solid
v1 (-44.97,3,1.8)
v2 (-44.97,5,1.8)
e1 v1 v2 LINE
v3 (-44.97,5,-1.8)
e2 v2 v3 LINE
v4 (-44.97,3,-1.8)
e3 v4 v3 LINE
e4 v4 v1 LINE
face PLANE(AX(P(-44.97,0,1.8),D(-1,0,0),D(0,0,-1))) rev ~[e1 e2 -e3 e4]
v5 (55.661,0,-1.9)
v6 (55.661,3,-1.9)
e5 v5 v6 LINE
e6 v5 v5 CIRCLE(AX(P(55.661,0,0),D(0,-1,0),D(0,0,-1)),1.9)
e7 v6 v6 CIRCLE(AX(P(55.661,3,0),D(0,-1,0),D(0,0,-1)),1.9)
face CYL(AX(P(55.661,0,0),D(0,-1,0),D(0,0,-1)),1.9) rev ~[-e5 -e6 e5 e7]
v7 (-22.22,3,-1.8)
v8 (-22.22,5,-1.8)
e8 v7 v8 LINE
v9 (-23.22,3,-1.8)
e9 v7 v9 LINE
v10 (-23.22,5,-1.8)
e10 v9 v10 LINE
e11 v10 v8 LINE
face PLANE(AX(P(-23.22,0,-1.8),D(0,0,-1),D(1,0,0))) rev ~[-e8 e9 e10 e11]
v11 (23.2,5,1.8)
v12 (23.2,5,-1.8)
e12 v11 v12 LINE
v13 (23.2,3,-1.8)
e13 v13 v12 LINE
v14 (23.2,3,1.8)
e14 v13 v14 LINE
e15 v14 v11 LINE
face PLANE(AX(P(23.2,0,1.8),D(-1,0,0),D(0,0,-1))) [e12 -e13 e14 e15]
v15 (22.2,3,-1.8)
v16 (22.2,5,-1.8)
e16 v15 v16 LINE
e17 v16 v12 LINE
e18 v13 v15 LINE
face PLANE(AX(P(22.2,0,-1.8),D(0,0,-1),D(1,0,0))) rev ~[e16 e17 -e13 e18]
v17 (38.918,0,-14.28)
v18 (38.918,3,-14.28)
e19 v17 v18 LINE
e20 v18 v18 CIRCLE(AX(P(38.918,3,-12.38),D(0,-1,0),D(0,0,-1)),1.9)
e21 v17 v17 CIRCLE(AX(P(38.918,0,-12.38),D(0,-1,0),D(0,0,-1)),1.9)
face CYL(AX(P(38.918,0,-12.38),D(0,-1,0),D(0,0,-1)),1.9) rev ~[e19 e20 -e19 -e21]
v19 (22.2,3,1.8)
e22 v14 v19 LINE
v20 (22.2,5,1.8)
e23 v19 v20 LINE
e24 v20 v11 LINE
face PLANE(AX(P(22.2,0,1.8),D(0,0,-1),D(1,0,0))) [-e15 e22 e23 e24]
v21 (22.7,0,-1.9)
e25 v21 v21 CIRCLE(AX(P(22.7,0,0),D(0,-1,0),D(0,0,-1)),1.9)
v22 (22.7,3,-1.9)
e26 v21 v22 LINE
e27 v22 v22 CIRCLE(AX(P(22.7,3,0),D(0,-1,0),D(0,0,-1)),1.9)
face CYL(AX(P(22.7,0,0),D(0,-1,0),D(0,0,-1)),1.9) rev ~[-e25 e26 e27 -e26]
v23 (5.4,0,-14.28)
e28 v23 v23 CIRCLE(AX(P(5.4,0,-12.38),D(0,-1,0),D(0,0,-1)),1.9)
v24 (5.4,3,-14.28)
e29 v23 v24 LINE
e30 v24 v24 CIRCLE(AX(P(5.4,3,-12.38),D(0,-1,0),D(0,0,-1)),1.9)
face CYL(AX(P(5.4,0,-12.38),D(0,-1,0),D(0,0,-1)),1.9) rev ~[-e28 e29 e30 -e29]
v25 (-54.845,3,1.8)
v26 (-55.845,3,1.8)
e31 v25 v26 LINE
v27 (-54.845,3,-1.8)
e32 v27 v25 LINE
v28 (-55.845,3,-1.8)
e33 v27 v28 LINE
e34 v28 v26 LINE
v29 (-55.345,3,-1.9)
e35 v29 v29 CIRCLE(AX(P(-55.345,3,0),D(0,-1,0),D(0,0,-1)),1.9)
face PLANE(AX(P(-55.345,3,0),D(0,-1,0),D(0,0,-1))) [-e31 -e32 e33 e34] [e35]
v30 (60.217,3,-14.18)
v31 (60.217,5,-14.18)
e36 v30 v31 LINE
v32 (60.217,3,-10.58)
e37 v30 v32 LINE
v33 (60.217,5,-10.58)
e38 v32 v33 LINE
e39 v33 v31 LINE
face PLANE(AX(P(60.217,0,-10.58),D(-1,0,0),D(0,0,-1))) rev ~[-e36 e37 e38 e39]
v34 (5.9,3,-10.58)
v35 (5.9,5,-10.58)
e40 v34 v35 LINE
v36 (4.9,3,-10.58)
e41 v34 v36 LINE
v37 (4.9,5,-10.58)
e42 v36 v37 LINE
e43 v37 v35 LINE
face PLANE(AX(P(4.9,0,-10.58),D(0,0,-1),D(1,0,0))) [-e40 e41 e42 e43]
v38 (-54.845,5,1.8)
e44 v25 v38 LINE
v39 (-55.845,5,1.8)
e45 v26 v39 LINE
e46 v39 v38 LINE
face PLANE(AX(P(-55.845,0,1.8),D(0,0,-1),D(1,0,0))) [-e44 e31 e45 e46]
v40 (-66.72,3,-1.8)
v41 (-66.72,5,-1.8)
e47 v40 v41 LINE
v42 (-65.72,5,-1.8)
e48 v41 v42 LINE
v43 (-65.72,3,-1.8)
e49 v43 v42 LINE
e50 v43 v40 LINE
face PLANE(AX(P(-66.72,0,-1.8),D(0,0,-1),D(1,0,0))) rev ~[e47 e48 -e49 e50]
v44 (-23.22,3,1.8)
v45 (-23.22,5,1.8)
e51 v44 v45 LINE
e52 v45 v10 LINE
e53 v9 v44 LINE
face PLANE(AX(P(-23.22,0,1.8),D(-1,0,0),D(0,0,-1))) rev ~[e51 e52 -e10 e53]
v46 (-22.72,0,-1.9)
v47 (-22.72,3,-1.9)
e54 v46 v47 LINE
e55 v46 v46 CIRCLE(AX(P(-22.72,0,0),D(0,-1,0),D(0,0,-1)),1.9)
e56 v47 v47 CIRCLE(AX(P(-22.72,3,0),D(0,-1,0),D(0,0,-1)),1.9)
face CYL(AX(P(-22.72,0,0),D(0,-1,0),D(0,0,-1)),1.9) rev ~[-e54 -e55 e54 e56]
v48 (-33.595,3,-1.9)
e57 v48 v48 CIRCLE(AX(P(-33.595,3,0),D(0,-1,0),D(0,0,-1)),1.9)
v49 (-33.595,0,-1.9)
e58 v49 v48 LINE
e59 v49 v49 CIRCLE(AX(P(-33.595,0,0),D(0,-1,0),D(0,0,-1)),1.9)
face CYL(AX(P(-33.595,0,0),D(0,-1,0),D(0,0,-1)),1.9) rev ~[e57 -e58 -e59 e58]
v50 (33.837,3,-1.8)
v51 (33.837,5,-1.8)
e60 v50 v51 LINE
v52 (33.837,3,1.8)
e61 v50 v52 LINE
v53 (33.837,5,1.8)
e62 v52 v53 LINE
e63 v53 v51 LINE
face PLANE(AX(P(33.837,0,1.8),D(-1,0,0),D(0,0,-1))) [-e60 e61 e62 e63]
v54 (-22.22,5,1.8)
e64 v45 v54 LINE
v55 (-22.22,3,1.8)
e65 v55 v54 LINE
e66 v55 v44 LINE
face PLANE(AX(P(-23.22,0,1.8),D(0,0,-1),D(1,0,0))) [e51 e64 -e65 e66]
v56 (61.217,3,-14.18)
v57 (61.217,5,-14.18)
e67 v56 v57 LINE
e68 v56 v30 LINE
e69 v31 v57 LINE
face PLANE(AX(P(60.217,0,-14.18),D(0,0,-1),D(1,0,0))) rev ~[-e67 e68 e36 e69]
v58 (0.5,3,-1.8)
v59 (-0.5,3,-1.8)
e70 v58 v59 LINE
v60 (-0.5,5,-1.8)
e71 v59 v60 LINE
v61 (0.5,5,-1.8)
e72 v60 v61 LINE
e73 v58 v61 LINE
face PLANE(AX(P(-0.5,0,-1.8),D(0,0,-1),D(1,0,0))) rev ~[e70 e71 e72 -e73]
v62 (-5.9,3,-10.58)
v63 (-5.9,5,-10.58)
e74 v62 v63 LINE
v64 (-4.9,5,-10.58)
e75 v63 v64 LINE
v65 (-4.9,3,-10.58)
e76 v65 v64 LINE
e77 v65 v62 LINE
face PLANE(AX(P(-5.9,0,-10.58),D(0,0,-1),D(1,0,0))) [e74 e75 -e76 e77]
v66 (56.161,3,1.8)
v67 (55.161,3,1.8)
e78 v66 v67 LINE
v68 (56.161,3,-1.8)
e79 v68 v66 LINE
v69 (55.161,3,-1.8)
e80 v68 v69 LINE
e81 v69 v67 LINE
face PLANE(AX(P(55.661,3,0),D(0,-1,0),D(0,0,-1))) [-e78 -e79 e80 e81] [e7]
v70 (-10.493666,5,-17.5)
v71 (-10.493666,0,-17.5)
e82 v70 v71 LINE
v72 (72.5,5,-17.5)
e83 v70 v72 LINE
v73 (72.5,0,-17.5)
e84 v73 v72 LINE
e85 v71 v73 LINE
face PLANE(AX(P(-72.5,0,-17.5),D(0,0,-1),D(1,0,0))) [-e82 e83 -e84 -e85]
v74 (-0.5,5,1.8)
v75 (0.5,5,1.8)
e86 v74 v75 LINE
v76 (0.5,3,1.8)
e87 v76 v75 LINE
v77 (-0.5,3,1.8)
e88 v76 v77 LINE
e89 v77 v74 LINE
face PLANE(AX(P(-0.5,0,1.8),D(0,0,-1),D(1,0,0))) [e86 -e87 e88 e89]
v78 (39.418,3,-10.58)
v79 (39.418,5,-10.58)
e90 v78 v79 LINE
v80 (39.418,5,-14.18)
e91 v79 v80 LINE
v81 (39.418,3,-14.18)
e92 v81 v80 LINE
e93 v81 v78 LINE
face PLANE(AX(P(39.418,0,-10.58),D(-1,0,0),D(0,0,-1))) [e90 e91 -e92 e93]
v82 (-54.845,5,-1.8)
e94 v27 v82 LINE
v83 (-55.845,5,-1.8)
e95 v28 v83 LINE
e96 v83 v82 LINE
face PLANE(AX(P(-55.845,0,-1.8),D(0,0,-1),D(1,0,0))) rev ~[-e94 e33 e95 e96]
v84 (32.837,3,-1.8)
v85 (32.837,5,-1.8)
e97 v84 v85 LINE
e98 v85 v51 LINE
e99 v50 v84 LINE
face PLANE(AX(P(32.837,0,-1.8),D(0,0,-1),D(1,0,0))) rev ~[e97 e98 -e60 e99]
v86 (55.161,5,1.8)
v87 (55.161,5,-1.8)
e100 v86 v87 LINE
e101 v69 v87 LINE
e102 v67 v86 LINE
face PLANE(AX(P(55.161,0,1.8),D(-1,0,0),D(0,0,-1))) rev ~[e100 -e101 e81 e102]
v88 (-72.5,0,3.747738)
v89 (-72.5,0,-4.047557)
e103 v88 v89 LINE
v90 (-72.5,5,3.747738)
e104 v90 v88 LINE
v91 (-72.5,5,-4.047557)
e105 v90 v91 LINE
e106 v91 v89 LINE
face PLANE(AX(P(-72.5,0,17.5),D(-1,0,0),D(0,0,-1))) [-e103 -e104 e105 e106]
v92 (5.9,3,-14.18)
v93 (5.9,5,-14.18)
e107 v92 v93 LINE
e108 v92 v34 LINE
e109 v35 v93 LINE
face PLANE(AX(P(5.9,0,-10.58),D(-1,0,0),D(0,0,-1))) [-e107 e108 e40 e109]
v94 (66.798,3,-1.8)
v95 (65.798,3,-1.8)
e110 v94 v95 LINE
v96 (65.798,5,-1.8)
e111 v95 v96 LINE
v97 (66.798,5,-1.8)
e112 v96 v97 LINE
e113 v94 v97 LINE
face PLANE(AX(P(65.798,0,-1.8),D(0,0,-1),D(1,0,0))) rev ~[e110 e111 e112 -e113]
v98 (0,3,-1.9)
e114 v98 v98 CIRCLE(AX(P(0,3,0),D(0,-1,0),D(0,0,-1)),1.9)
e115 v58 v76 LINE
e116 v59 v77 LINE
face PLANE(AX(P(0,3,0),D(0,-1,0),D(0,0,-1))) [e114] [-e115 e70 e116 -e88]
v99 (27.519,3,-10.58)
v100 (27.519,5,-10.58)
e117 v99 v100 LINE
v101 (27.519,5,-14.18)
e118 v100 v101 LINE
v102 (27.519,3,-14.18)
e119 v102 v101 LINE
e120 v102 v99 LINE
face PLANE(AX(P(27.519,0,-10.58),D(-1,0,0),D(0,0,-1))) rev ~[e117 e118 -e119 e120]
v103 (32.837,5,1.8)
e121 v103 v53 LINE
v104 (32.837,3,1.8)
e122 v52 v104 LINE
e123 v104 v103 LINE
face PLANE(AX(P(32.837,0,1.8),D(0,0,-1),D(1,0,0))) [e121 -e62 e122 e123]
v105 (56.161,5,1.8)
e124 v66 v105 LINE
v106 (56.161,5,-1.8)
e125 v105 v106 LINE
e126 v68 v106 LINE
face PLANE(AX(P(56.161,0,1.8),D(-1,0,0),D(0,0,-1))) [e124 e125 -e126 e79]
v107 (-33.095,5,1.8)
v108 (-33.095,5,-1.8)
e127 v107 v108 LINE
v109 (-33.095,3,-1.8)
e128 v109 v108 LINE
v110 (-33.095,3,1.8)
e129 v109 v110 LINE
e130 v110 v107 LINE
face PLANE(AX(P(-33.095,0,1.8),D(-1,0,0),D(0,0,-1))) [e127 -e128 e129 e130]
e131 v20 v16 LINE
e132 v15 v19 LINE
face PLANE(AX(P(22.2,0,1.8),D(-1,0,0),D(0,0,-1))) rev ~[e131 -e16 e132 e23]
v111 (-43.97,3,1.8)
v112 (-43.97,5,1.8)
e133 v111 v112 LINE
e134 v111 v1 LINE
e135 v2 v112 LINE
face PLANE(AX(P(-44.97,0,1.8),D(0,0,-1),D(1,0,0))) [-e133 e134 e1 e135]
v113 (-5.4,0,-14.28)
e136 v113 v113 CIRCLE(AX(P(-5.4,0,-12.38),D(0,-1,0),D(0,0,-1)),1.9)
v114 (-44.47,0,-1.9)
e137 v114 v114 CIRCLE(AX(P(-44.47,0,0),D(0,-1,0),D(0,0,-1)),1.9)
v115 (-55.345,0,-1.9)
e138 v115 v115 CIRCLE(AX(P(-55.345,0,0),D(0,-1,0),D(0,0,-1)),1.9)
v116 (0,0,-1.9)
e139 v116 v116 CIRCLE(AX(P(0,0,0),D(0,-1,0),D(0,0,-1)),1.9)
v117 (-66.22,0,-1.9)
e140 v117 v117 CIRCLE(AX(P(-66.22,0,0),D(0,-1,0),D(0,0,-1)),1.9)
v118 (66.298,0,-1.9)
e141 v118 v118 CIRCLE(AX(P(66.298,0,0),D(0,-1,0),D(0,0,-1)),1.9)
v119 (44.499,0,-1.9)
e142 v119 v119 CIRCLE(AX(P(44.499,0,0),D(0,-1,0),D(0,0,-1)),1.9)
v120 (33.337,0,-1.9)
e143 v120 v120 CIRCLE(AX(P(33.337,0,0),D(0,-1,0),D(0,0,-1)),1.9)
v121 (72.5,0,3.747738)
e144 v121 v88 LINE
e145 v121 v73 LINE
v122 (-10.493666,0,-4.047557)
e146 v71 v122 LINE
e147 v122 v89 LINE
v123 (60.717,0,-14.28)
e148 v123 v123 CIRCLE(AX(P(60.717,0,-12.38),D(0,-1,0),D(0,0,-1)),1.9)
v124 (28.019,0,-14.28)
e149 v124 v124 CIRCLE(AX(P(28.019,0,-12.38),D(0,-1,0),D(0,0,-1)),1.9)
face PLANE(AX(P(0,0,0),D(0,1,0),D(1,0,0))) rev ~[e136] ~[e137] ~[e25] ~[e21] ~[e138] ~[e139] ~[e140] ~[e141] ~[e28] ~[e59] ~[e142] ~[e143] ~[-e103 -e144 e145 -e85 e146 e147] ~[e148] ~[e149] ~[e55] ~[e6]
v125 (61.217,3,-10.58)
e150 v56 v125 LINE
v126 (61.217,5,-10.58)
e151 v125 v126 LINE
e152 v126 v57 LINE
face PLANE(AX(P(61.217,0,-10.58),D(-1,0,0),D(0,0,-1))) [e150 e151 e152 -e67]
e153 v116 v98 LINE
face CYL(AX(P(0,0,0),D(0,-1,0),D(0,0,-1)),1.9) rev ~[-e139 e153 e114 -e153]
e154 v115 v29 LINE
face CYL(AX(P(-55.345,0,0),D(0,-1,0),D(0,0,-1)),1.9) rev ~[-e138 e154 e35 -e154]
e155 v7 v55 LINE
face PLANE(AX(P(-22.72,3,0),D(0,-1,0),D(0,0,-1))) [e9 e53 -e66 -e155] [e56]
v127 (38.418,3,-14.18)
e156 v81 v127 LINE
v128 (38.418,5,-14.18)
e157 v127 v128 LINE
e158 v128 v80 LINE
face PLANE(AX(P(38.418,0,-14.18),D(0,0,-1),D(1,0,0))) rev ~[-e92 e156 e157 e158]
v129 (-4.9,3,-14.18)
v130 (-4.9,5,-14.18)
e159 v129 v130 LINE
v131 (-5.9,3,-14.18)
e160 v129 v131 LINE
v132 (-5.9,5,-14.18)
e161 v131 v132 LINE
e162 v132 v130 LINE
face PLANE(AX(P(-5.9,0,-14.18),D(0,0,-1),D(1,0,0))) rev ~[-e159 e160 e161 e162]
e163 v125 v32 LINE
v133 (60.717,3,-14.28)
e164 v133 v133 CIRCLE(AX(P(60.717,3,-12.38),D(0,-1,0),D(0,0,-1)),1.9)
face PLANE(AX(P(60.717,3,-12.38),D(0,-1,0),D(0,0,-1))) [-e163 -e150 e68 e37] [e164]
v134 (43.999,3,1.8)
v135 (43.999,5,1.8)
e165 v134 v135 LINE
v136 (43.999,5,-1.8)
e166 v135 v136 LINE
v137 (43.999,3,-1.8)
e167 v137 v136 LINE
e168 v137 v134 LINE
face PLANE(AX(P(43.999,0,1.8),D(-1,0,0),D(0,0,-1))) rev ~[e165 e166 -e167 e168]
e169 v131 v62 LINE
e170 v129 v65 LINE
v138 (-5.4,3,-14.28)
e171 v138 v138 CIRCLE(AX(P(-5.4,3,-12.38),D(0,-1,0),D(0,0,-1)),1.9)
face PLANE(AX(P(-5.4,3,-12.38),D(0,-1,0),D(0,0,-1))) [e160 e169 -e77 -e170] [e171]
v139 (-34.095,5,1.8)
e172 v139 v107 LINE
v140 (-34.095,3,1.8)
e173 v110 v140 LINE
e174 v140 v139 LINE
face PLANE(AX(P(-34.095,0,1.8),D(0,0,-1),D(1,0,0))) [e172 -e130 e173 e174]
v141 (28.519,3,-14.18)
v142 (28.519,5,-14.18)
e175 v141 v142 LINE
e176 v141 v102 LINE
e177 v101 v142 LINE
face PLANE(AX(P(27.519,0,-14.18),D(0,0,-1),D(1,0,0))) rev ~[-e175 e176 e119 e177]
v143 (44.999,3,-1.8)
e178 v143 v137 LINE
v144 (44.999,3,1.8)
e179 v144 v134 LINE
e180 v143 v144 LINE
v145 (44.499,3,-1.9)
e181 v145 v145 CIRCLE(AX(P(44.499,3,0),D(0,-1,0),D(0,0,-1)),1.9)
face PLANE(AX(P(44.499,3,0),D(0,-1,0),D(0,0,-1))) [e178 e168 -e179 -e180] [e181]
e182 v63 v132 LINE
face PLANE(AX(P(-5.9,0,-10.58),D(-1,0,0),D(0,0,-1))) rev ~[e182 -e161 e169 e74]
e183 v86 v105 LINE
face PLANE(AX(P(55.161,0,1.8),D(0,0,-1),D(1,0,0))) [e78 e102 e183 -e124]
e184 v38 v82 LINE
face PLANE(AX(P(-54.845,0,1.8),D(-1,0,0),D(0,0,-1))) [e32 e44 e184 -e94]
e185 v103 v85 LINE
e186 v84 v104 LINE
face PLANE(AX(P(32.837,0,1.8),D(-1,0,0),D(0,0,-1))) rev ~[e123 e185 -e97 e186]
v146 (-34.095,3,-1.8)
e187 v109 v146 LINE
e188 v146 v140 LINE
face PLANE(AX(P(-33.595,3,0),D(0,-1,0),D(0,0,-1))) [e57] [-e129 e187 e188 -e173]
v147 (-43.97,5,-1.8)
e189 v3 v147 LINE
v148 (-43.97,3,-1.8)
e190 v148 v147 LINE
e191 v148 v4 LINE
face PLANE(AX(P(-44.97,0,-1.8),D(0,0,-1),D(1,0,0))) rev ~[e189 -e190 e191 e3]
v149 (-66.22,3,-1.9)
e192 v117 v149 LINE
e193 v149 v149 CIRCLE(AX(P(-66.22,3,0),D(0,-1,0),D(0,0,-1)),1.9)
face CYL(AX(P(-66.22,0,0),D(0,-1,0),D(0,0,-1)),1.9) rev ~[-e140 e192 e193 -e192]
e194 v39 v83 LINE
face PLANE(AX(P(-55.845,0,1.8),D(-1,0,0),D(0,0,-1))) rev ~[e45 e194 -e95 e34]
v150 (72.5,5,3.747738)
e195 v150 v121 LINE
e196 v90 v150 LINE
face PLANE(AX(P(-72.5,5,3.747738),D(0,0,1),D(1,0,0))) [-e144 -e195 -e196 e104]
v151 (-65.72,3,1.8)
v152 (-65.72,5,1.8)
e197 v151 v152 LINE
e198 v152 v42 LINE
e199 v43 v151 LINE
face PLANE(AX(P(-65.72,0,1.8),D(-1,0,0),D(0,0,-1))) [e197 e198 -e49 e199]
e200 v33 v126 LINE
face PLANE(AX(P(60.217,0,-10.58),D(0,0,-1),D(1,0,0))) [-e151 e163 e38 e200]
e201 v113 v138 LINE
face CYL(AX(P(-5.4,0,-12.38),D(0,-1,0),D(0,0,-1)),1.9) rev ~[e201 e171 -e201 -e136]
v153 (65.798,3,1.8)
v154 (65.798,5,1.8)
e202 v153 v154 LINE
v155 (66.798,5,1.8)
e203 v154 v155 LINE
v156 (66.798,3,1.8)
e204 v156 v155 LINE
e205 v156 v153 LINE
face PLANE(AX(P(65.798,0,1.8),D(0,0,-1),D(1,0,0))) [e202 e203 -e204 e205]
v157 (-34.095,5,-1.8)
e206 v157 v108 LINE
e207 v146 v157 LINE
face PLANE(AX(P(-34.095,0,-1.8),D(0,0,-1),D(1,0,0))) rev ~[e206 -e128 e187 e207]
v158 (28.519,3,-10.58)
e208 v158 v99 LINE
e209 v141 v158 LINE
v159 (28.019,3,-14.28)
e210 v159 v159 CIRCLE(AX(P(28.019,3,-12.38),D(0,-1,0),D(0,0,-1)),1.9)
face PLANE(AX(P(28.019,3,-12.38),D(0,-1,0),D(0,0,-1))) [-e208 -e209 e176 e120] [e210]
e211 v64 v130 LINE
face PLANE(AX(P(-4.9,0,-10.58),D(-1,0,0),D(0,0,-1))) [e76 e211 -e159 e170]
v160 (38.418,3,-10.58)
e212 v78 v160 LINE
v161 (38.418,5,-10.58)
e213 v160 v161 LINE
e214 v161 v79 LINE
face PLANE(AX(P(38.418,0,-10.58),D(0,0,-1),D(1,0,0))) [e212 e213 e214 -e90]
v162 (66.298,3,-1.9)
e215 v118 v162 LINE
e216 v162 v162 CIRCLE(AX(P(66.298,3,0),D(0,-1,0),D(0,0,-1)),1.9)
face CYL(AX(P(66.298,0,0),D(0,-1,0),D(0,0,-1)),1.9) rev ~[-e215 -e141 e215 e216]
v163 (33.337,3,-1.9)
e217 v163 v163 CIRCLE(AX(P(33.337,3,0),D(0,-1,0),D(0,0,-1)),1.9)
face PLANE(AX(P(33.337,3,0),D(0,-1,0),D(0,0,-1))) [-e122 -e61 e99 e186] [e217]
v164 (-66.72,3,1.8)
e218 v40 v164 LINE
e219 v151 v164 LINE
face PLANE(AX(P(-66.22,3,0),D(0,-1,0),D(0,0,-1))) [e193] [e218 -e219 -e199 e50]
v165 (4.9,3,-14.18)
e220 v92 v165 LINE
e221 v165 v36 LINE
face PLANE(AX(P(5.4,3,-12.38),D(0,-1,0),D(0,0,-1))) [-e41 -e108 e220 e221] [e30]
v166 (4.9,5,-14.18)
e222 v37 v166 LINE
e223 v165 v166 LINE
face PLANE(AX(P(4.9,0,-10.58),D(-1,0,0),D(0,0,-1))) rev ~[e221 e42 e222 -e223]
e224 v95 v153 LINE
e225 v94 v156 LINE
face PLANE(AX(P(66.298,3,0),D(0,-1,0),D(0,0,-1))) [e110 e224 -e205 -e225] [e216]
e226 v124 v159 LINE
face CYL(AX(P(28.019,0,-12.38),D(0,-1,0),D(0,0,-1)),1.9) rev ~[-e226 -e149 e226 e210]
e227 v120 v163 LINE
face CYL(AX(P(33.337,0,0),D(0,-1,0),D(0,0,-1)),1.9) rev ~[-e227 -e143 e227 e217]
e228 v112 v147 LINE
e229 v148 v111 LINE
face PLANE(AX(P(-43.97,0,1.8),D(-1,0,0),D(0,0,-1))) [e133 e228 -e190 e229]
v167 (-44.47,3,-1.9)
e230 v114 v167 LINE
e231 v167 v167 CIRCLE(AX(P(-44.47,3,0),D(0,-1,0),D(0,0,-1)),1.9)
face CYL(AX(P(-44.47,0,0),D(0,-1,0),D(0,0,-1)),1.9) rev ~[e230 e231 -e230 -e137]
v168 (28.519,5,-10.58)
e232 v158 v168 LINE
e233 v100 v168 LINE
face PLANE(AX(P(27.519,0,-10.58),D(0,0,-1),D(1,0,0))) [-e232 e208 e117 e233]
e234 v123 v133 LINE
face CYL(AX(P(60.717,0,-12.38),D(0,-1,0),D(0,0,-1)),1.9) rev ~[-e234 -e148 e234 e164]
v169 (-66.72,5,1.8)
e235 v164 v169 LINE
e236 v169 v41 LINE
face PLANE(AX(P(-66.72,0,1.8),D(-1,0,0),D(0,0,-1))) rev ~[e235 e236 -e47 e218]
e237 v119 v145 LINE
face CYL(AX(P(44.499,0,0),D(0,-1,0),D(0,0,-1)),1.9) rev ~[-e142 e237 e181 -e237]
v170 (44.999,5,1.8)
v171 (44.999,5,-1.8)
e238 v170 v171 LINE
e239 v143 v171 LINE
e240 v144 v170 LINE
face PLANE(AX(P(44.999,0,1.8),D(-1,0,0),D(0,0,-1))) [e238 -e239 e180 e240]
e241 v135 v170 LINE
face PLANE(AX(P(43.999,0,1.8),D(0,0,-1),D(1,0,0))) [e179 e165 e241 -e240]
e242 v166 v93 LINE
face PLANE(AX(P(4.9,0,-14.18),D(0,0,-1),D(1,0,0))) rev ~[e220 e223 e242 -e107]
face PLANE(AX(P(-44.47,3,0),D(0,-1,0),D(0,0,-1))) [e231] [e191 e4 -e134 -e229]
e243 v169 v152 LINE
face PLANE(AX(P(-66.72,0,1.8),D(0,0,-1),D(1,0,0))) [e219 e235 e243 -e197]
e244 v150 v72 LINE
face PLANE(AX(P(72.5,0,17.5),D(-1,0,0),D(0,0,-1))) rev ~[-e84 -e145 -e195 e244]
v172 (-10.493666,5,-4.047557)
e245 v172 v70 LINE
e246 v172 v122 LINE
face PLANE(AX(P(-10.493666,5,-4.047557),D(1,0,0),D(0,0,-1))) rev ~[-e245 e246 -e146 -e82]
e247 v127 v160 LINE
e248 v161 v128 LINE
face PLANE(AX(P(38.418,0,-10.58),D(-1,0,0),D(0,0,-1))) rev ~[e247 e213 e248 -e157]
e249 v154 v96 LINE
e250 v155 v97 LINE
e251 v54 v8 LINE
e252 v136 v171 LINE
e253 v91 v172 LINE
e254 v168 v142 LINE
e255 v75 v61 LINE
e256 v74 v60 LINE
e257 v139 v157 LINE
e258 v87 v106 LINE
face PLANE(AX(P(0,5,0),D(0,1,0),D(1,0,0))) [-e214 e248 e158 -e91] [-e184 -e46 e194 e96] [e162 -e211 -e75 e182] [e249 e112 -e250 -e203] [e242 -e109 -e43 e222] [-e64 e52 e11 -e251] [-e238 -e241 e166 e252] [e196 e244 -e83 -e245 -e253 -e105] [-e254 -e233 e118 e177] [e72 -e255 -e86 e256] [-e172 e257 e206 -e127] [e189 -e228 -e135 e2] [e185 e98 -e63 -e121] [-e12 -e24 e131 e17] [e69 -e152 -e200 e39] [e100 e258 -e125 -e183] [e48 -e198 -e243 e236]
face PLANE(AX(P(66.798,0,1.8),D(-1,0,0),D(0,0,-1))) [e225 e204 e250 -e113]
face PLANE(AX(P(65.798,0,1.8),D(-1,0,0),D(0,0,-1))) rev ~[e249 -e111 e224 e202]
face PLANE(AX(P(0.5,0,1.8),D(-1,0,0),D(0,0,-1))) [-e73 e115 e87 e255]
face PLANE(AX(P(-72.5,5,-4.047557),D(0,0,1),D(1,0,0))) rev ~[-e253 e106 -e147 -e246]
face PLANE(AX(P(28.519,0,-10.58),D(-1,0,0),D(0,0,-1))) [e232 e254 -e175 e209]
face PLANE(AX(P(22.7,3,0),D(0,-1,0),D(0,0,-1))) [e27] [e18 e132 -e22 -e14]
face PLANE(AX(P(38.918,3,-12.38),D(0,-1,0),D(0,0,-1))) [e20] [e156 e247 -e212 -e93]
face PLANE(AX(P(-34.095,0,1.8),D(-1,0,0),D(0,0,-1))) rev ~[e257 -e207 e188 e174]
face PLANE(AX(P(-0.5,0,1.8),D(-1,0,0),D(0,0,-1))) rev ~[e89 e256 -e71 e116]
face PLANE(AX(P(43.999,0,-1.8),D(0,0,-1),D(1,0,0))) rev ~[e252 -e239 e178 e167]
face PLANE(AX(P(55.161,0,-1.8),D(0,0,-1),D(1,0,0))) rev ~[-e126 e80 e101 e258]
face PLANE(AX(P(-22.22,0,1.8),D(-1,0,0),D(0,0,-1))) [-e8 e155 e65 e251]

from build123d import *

# Parameters (mm, degrees)
SKETCH1_W           = 145
SKETCH1_H           = 35
SKETCH1_W_2         = 1
SKETCH1_H_2         = 3.6
BOSS_EXTRUDE1_DEPTH = 5
CUT_EXTRUDE1_REACH  = 76.75
SKETCH2_W           = 145
SKETCH2_H           = 13.752262189
SKETCH2_W_2         = 62.00633413
SKETCH2_H_2         = 13.452443164
SKETCH4_R           = 1.9
CUT_EXTRUDE2_DEPTH  = 3


with BuildPart() as part:
    # Sketch1 → Boss-Extrude1 (new body)
    with BuildSketch(Plane(origin=(0, 0, 0), x_dir=(1, 0, 0), z_dir=(0, 1, 0))):
        Rectangle(SKETCH1_W, SKETCH1_H)
        Rectangle(SKETCH1_W_2, SKETCH1_H_2, mode=Mode.SUBTRACT)
        with Locations((-22.72, 0)):
            Rectangle(SKETCH1_W_2, SKETCH1_H_2, mode=Mode.SUBTRACT)
        with Locations((-33.595, 0)):
            Rectangle(SKETCH1_W_2, SKETCH1_H_2, mode=Mode.SUBTRACT)
        with Locations((-44.47, 0)):
            Rectangle(SKETCH1_W_2, SKETCH1_H_2, mode=Mode.SUBTRACT)
        with Locations((-55.345, 0)):
            Rectangle(SKETCH1_W_2, SKETCH1_H_2, mode=Mode.SUBTRACT)
        with Locations((-66.22, 0)):
            Rectangle(SKETCH1_W_2, SKETCH1_H_2, mode=Mode.SUBTRACT)
        with Locations((22.7, 0)):
            Rectangle(SKETCH1_W_2, SKETCH1_H_2, mode=Mode.SUBTRACT)
        with Locations((33.337, 0)):
            Rectangle(SKETCH1_W_2, SKETCH1_H_2, mode=Mode.SUBTRACT)
        with Locations((44.499, 0)):
            Rectangle(SKETCH1_W_2, SKETCH1_H_2, mode=Mode.SUBTRACT)
        with Locations((55.661, 0)):
            Rectangle(SKETCH1_W_2, SKETCH1_H_2, mode=Mode.SUBTRACT)
        with Locations((66.298, 0)):
            Rectangle(SKETCH1_W_2, SKETCH1_H_2, mode=Mode.SUBTRACT)
        with Locations((-5.4, 12.38)):
            Rectangle(SKETCH1_W_2, SKETCH1_H_2, mode=Mode.SUBTRACT)
        with Locations((5.4, 12.38)):
            Rectangle(SKETCH1_W_2, SKETCH1_H_2, mode=Mode.SUBTRACT)
        with Locations((28.019, 12.38)):
            Rectangle(SKETCH1_W_2, SKETCH1_H_2, mode=Mode.SUBTRACT)
        with Locations((38.918, 12.38)):
            Rectangle(SKETCH1_W_2, SKETCH1_H_2, mode=Mode.SUBTRACT)
        with Locations((60.717, 12.38)):
            Rectangle(SKETCH1_W_2, SKETCH1_H_2, mode=Mode.SUBTRACT)
    extrude(amount=BOSS_EXTRUDE1_DEPTH)

    # Sketch2 → Cut-Extrude1 (cut, up to next)
    with BuildSketch(Plane(origin=(0, 5, 0), x_dir=(1, 0, 0), z_dir=(0, 1, 0)), mode=Mode.PRIVATE) as cut_extrude1_sk1:
        with Locations((0, -10.623868906)):
            Rectangle(SKETCH2_W, SKETCH2_H)
    cut_extrude1_tool1 = extrude(cut_extrude1_sk1.sketch, amount=-CUT_EXTRUDE1_REACH, mode=Mode.PRIVATE) & part.part
    # Sketch2 → Cut-Extrude1 (cut, up to next)
    with BuildSketch(Plane(origin=(0, 5, 0), x_dir=(1, 0, 0), z_dir=(0, 1, 0)), mode=Mode.PRIVATE) as cut_extrude1_sk2:
        with Locations((-41.496832935, 10.773778418)):
            Rectangle(SKETCH2_W_2, SKETCH2_H_2)
    cut_extrude1_tool2 = extrude(cut_extrude1_sk2.sketch, amount=-CUT_EXTRUDE1_REACH, mode=Mode.PRIVATE) & part.part
    add(cut_extrude1_tool1.solids().sort_by_distance((0, 5, 10.623869))[0], mode=Mode.SUBTRACT)
    add(cut_extrude1_tool2.solids().sort_by_distance((-41.496833, 5, -10.773778))[0], mode=Mode.SUBTRACT)

    # Sketch4 → Cut-Extrude2 (cut)
    with BuildSketch(Plane.XZ):
        with Locations(Location((0, 0, 0), (0, 0, 270))):
            Circle(SKETCH4_R)
        with Locations(Location((-5.4, -12.38, 0), (0, 0, 270))):
            Circle(SKETCH4_R)
        with Locations(Location((-22.72, 0, 0), (0, 0, 270))):
            Circle(SKETCH4_R)
        with Locations(Location((-33.595, 0, 0), (0, 0, 270))):
            Circle(SKETCH4_R)
        with Locations(Location((-44.47, 0, 0), (0, 0, 270))):
            Circle(SKETCH4_R)
        with Locations(Location((-55.345, 0, 0), (0, 0, 270))):
            Circle(SKETCH4_R)
        with Locations(Location((-66.22, 0, 0), (0, 0, 270))):
            Circle(SKETCH4_R)
        with Locations(Location((5.4, -12.38, 0), (0, 0, 270))):
            Circle(SKETCH4_R)
        with Locations(Location((22.7, 0, 0), (0, 0, 270))):
            Circle(SKETCH4_R)
        with Locations(Location((33.337, 0, 0), (0, 0, 270))):
            Circle(SKETCH4_R)
        with Locations(Location((44.499, 0, 0), (0, 0, 270))):
            Circle(SKETCH4_R)
        with Locations(Location((55.661, 0, 0), (0, 0, 270))):
            Circle(SKETCH4_R)
        with Locations(Location((66.298, 0, 0), (0, 0, 270))):
            Circle(SKETCH4_R)
        with Locations(Location((28.019, -12.38, 0), (0, 0, 270))):
            Circle(SKETCH4_R)
        with Locations(Location((38.918, -12.38, 0), (0, 0, 270))):
            Circle(SKETCH4_R)
        with Locations(Location((60.717, -12.38, 0), (0, 0, 270))):
            Circle(SKETCH4_R)
    extrude(amount=-CUT_EXTRUDE2_DEPTH, mode=Mode.SUBTRACT)


solid = part.part
